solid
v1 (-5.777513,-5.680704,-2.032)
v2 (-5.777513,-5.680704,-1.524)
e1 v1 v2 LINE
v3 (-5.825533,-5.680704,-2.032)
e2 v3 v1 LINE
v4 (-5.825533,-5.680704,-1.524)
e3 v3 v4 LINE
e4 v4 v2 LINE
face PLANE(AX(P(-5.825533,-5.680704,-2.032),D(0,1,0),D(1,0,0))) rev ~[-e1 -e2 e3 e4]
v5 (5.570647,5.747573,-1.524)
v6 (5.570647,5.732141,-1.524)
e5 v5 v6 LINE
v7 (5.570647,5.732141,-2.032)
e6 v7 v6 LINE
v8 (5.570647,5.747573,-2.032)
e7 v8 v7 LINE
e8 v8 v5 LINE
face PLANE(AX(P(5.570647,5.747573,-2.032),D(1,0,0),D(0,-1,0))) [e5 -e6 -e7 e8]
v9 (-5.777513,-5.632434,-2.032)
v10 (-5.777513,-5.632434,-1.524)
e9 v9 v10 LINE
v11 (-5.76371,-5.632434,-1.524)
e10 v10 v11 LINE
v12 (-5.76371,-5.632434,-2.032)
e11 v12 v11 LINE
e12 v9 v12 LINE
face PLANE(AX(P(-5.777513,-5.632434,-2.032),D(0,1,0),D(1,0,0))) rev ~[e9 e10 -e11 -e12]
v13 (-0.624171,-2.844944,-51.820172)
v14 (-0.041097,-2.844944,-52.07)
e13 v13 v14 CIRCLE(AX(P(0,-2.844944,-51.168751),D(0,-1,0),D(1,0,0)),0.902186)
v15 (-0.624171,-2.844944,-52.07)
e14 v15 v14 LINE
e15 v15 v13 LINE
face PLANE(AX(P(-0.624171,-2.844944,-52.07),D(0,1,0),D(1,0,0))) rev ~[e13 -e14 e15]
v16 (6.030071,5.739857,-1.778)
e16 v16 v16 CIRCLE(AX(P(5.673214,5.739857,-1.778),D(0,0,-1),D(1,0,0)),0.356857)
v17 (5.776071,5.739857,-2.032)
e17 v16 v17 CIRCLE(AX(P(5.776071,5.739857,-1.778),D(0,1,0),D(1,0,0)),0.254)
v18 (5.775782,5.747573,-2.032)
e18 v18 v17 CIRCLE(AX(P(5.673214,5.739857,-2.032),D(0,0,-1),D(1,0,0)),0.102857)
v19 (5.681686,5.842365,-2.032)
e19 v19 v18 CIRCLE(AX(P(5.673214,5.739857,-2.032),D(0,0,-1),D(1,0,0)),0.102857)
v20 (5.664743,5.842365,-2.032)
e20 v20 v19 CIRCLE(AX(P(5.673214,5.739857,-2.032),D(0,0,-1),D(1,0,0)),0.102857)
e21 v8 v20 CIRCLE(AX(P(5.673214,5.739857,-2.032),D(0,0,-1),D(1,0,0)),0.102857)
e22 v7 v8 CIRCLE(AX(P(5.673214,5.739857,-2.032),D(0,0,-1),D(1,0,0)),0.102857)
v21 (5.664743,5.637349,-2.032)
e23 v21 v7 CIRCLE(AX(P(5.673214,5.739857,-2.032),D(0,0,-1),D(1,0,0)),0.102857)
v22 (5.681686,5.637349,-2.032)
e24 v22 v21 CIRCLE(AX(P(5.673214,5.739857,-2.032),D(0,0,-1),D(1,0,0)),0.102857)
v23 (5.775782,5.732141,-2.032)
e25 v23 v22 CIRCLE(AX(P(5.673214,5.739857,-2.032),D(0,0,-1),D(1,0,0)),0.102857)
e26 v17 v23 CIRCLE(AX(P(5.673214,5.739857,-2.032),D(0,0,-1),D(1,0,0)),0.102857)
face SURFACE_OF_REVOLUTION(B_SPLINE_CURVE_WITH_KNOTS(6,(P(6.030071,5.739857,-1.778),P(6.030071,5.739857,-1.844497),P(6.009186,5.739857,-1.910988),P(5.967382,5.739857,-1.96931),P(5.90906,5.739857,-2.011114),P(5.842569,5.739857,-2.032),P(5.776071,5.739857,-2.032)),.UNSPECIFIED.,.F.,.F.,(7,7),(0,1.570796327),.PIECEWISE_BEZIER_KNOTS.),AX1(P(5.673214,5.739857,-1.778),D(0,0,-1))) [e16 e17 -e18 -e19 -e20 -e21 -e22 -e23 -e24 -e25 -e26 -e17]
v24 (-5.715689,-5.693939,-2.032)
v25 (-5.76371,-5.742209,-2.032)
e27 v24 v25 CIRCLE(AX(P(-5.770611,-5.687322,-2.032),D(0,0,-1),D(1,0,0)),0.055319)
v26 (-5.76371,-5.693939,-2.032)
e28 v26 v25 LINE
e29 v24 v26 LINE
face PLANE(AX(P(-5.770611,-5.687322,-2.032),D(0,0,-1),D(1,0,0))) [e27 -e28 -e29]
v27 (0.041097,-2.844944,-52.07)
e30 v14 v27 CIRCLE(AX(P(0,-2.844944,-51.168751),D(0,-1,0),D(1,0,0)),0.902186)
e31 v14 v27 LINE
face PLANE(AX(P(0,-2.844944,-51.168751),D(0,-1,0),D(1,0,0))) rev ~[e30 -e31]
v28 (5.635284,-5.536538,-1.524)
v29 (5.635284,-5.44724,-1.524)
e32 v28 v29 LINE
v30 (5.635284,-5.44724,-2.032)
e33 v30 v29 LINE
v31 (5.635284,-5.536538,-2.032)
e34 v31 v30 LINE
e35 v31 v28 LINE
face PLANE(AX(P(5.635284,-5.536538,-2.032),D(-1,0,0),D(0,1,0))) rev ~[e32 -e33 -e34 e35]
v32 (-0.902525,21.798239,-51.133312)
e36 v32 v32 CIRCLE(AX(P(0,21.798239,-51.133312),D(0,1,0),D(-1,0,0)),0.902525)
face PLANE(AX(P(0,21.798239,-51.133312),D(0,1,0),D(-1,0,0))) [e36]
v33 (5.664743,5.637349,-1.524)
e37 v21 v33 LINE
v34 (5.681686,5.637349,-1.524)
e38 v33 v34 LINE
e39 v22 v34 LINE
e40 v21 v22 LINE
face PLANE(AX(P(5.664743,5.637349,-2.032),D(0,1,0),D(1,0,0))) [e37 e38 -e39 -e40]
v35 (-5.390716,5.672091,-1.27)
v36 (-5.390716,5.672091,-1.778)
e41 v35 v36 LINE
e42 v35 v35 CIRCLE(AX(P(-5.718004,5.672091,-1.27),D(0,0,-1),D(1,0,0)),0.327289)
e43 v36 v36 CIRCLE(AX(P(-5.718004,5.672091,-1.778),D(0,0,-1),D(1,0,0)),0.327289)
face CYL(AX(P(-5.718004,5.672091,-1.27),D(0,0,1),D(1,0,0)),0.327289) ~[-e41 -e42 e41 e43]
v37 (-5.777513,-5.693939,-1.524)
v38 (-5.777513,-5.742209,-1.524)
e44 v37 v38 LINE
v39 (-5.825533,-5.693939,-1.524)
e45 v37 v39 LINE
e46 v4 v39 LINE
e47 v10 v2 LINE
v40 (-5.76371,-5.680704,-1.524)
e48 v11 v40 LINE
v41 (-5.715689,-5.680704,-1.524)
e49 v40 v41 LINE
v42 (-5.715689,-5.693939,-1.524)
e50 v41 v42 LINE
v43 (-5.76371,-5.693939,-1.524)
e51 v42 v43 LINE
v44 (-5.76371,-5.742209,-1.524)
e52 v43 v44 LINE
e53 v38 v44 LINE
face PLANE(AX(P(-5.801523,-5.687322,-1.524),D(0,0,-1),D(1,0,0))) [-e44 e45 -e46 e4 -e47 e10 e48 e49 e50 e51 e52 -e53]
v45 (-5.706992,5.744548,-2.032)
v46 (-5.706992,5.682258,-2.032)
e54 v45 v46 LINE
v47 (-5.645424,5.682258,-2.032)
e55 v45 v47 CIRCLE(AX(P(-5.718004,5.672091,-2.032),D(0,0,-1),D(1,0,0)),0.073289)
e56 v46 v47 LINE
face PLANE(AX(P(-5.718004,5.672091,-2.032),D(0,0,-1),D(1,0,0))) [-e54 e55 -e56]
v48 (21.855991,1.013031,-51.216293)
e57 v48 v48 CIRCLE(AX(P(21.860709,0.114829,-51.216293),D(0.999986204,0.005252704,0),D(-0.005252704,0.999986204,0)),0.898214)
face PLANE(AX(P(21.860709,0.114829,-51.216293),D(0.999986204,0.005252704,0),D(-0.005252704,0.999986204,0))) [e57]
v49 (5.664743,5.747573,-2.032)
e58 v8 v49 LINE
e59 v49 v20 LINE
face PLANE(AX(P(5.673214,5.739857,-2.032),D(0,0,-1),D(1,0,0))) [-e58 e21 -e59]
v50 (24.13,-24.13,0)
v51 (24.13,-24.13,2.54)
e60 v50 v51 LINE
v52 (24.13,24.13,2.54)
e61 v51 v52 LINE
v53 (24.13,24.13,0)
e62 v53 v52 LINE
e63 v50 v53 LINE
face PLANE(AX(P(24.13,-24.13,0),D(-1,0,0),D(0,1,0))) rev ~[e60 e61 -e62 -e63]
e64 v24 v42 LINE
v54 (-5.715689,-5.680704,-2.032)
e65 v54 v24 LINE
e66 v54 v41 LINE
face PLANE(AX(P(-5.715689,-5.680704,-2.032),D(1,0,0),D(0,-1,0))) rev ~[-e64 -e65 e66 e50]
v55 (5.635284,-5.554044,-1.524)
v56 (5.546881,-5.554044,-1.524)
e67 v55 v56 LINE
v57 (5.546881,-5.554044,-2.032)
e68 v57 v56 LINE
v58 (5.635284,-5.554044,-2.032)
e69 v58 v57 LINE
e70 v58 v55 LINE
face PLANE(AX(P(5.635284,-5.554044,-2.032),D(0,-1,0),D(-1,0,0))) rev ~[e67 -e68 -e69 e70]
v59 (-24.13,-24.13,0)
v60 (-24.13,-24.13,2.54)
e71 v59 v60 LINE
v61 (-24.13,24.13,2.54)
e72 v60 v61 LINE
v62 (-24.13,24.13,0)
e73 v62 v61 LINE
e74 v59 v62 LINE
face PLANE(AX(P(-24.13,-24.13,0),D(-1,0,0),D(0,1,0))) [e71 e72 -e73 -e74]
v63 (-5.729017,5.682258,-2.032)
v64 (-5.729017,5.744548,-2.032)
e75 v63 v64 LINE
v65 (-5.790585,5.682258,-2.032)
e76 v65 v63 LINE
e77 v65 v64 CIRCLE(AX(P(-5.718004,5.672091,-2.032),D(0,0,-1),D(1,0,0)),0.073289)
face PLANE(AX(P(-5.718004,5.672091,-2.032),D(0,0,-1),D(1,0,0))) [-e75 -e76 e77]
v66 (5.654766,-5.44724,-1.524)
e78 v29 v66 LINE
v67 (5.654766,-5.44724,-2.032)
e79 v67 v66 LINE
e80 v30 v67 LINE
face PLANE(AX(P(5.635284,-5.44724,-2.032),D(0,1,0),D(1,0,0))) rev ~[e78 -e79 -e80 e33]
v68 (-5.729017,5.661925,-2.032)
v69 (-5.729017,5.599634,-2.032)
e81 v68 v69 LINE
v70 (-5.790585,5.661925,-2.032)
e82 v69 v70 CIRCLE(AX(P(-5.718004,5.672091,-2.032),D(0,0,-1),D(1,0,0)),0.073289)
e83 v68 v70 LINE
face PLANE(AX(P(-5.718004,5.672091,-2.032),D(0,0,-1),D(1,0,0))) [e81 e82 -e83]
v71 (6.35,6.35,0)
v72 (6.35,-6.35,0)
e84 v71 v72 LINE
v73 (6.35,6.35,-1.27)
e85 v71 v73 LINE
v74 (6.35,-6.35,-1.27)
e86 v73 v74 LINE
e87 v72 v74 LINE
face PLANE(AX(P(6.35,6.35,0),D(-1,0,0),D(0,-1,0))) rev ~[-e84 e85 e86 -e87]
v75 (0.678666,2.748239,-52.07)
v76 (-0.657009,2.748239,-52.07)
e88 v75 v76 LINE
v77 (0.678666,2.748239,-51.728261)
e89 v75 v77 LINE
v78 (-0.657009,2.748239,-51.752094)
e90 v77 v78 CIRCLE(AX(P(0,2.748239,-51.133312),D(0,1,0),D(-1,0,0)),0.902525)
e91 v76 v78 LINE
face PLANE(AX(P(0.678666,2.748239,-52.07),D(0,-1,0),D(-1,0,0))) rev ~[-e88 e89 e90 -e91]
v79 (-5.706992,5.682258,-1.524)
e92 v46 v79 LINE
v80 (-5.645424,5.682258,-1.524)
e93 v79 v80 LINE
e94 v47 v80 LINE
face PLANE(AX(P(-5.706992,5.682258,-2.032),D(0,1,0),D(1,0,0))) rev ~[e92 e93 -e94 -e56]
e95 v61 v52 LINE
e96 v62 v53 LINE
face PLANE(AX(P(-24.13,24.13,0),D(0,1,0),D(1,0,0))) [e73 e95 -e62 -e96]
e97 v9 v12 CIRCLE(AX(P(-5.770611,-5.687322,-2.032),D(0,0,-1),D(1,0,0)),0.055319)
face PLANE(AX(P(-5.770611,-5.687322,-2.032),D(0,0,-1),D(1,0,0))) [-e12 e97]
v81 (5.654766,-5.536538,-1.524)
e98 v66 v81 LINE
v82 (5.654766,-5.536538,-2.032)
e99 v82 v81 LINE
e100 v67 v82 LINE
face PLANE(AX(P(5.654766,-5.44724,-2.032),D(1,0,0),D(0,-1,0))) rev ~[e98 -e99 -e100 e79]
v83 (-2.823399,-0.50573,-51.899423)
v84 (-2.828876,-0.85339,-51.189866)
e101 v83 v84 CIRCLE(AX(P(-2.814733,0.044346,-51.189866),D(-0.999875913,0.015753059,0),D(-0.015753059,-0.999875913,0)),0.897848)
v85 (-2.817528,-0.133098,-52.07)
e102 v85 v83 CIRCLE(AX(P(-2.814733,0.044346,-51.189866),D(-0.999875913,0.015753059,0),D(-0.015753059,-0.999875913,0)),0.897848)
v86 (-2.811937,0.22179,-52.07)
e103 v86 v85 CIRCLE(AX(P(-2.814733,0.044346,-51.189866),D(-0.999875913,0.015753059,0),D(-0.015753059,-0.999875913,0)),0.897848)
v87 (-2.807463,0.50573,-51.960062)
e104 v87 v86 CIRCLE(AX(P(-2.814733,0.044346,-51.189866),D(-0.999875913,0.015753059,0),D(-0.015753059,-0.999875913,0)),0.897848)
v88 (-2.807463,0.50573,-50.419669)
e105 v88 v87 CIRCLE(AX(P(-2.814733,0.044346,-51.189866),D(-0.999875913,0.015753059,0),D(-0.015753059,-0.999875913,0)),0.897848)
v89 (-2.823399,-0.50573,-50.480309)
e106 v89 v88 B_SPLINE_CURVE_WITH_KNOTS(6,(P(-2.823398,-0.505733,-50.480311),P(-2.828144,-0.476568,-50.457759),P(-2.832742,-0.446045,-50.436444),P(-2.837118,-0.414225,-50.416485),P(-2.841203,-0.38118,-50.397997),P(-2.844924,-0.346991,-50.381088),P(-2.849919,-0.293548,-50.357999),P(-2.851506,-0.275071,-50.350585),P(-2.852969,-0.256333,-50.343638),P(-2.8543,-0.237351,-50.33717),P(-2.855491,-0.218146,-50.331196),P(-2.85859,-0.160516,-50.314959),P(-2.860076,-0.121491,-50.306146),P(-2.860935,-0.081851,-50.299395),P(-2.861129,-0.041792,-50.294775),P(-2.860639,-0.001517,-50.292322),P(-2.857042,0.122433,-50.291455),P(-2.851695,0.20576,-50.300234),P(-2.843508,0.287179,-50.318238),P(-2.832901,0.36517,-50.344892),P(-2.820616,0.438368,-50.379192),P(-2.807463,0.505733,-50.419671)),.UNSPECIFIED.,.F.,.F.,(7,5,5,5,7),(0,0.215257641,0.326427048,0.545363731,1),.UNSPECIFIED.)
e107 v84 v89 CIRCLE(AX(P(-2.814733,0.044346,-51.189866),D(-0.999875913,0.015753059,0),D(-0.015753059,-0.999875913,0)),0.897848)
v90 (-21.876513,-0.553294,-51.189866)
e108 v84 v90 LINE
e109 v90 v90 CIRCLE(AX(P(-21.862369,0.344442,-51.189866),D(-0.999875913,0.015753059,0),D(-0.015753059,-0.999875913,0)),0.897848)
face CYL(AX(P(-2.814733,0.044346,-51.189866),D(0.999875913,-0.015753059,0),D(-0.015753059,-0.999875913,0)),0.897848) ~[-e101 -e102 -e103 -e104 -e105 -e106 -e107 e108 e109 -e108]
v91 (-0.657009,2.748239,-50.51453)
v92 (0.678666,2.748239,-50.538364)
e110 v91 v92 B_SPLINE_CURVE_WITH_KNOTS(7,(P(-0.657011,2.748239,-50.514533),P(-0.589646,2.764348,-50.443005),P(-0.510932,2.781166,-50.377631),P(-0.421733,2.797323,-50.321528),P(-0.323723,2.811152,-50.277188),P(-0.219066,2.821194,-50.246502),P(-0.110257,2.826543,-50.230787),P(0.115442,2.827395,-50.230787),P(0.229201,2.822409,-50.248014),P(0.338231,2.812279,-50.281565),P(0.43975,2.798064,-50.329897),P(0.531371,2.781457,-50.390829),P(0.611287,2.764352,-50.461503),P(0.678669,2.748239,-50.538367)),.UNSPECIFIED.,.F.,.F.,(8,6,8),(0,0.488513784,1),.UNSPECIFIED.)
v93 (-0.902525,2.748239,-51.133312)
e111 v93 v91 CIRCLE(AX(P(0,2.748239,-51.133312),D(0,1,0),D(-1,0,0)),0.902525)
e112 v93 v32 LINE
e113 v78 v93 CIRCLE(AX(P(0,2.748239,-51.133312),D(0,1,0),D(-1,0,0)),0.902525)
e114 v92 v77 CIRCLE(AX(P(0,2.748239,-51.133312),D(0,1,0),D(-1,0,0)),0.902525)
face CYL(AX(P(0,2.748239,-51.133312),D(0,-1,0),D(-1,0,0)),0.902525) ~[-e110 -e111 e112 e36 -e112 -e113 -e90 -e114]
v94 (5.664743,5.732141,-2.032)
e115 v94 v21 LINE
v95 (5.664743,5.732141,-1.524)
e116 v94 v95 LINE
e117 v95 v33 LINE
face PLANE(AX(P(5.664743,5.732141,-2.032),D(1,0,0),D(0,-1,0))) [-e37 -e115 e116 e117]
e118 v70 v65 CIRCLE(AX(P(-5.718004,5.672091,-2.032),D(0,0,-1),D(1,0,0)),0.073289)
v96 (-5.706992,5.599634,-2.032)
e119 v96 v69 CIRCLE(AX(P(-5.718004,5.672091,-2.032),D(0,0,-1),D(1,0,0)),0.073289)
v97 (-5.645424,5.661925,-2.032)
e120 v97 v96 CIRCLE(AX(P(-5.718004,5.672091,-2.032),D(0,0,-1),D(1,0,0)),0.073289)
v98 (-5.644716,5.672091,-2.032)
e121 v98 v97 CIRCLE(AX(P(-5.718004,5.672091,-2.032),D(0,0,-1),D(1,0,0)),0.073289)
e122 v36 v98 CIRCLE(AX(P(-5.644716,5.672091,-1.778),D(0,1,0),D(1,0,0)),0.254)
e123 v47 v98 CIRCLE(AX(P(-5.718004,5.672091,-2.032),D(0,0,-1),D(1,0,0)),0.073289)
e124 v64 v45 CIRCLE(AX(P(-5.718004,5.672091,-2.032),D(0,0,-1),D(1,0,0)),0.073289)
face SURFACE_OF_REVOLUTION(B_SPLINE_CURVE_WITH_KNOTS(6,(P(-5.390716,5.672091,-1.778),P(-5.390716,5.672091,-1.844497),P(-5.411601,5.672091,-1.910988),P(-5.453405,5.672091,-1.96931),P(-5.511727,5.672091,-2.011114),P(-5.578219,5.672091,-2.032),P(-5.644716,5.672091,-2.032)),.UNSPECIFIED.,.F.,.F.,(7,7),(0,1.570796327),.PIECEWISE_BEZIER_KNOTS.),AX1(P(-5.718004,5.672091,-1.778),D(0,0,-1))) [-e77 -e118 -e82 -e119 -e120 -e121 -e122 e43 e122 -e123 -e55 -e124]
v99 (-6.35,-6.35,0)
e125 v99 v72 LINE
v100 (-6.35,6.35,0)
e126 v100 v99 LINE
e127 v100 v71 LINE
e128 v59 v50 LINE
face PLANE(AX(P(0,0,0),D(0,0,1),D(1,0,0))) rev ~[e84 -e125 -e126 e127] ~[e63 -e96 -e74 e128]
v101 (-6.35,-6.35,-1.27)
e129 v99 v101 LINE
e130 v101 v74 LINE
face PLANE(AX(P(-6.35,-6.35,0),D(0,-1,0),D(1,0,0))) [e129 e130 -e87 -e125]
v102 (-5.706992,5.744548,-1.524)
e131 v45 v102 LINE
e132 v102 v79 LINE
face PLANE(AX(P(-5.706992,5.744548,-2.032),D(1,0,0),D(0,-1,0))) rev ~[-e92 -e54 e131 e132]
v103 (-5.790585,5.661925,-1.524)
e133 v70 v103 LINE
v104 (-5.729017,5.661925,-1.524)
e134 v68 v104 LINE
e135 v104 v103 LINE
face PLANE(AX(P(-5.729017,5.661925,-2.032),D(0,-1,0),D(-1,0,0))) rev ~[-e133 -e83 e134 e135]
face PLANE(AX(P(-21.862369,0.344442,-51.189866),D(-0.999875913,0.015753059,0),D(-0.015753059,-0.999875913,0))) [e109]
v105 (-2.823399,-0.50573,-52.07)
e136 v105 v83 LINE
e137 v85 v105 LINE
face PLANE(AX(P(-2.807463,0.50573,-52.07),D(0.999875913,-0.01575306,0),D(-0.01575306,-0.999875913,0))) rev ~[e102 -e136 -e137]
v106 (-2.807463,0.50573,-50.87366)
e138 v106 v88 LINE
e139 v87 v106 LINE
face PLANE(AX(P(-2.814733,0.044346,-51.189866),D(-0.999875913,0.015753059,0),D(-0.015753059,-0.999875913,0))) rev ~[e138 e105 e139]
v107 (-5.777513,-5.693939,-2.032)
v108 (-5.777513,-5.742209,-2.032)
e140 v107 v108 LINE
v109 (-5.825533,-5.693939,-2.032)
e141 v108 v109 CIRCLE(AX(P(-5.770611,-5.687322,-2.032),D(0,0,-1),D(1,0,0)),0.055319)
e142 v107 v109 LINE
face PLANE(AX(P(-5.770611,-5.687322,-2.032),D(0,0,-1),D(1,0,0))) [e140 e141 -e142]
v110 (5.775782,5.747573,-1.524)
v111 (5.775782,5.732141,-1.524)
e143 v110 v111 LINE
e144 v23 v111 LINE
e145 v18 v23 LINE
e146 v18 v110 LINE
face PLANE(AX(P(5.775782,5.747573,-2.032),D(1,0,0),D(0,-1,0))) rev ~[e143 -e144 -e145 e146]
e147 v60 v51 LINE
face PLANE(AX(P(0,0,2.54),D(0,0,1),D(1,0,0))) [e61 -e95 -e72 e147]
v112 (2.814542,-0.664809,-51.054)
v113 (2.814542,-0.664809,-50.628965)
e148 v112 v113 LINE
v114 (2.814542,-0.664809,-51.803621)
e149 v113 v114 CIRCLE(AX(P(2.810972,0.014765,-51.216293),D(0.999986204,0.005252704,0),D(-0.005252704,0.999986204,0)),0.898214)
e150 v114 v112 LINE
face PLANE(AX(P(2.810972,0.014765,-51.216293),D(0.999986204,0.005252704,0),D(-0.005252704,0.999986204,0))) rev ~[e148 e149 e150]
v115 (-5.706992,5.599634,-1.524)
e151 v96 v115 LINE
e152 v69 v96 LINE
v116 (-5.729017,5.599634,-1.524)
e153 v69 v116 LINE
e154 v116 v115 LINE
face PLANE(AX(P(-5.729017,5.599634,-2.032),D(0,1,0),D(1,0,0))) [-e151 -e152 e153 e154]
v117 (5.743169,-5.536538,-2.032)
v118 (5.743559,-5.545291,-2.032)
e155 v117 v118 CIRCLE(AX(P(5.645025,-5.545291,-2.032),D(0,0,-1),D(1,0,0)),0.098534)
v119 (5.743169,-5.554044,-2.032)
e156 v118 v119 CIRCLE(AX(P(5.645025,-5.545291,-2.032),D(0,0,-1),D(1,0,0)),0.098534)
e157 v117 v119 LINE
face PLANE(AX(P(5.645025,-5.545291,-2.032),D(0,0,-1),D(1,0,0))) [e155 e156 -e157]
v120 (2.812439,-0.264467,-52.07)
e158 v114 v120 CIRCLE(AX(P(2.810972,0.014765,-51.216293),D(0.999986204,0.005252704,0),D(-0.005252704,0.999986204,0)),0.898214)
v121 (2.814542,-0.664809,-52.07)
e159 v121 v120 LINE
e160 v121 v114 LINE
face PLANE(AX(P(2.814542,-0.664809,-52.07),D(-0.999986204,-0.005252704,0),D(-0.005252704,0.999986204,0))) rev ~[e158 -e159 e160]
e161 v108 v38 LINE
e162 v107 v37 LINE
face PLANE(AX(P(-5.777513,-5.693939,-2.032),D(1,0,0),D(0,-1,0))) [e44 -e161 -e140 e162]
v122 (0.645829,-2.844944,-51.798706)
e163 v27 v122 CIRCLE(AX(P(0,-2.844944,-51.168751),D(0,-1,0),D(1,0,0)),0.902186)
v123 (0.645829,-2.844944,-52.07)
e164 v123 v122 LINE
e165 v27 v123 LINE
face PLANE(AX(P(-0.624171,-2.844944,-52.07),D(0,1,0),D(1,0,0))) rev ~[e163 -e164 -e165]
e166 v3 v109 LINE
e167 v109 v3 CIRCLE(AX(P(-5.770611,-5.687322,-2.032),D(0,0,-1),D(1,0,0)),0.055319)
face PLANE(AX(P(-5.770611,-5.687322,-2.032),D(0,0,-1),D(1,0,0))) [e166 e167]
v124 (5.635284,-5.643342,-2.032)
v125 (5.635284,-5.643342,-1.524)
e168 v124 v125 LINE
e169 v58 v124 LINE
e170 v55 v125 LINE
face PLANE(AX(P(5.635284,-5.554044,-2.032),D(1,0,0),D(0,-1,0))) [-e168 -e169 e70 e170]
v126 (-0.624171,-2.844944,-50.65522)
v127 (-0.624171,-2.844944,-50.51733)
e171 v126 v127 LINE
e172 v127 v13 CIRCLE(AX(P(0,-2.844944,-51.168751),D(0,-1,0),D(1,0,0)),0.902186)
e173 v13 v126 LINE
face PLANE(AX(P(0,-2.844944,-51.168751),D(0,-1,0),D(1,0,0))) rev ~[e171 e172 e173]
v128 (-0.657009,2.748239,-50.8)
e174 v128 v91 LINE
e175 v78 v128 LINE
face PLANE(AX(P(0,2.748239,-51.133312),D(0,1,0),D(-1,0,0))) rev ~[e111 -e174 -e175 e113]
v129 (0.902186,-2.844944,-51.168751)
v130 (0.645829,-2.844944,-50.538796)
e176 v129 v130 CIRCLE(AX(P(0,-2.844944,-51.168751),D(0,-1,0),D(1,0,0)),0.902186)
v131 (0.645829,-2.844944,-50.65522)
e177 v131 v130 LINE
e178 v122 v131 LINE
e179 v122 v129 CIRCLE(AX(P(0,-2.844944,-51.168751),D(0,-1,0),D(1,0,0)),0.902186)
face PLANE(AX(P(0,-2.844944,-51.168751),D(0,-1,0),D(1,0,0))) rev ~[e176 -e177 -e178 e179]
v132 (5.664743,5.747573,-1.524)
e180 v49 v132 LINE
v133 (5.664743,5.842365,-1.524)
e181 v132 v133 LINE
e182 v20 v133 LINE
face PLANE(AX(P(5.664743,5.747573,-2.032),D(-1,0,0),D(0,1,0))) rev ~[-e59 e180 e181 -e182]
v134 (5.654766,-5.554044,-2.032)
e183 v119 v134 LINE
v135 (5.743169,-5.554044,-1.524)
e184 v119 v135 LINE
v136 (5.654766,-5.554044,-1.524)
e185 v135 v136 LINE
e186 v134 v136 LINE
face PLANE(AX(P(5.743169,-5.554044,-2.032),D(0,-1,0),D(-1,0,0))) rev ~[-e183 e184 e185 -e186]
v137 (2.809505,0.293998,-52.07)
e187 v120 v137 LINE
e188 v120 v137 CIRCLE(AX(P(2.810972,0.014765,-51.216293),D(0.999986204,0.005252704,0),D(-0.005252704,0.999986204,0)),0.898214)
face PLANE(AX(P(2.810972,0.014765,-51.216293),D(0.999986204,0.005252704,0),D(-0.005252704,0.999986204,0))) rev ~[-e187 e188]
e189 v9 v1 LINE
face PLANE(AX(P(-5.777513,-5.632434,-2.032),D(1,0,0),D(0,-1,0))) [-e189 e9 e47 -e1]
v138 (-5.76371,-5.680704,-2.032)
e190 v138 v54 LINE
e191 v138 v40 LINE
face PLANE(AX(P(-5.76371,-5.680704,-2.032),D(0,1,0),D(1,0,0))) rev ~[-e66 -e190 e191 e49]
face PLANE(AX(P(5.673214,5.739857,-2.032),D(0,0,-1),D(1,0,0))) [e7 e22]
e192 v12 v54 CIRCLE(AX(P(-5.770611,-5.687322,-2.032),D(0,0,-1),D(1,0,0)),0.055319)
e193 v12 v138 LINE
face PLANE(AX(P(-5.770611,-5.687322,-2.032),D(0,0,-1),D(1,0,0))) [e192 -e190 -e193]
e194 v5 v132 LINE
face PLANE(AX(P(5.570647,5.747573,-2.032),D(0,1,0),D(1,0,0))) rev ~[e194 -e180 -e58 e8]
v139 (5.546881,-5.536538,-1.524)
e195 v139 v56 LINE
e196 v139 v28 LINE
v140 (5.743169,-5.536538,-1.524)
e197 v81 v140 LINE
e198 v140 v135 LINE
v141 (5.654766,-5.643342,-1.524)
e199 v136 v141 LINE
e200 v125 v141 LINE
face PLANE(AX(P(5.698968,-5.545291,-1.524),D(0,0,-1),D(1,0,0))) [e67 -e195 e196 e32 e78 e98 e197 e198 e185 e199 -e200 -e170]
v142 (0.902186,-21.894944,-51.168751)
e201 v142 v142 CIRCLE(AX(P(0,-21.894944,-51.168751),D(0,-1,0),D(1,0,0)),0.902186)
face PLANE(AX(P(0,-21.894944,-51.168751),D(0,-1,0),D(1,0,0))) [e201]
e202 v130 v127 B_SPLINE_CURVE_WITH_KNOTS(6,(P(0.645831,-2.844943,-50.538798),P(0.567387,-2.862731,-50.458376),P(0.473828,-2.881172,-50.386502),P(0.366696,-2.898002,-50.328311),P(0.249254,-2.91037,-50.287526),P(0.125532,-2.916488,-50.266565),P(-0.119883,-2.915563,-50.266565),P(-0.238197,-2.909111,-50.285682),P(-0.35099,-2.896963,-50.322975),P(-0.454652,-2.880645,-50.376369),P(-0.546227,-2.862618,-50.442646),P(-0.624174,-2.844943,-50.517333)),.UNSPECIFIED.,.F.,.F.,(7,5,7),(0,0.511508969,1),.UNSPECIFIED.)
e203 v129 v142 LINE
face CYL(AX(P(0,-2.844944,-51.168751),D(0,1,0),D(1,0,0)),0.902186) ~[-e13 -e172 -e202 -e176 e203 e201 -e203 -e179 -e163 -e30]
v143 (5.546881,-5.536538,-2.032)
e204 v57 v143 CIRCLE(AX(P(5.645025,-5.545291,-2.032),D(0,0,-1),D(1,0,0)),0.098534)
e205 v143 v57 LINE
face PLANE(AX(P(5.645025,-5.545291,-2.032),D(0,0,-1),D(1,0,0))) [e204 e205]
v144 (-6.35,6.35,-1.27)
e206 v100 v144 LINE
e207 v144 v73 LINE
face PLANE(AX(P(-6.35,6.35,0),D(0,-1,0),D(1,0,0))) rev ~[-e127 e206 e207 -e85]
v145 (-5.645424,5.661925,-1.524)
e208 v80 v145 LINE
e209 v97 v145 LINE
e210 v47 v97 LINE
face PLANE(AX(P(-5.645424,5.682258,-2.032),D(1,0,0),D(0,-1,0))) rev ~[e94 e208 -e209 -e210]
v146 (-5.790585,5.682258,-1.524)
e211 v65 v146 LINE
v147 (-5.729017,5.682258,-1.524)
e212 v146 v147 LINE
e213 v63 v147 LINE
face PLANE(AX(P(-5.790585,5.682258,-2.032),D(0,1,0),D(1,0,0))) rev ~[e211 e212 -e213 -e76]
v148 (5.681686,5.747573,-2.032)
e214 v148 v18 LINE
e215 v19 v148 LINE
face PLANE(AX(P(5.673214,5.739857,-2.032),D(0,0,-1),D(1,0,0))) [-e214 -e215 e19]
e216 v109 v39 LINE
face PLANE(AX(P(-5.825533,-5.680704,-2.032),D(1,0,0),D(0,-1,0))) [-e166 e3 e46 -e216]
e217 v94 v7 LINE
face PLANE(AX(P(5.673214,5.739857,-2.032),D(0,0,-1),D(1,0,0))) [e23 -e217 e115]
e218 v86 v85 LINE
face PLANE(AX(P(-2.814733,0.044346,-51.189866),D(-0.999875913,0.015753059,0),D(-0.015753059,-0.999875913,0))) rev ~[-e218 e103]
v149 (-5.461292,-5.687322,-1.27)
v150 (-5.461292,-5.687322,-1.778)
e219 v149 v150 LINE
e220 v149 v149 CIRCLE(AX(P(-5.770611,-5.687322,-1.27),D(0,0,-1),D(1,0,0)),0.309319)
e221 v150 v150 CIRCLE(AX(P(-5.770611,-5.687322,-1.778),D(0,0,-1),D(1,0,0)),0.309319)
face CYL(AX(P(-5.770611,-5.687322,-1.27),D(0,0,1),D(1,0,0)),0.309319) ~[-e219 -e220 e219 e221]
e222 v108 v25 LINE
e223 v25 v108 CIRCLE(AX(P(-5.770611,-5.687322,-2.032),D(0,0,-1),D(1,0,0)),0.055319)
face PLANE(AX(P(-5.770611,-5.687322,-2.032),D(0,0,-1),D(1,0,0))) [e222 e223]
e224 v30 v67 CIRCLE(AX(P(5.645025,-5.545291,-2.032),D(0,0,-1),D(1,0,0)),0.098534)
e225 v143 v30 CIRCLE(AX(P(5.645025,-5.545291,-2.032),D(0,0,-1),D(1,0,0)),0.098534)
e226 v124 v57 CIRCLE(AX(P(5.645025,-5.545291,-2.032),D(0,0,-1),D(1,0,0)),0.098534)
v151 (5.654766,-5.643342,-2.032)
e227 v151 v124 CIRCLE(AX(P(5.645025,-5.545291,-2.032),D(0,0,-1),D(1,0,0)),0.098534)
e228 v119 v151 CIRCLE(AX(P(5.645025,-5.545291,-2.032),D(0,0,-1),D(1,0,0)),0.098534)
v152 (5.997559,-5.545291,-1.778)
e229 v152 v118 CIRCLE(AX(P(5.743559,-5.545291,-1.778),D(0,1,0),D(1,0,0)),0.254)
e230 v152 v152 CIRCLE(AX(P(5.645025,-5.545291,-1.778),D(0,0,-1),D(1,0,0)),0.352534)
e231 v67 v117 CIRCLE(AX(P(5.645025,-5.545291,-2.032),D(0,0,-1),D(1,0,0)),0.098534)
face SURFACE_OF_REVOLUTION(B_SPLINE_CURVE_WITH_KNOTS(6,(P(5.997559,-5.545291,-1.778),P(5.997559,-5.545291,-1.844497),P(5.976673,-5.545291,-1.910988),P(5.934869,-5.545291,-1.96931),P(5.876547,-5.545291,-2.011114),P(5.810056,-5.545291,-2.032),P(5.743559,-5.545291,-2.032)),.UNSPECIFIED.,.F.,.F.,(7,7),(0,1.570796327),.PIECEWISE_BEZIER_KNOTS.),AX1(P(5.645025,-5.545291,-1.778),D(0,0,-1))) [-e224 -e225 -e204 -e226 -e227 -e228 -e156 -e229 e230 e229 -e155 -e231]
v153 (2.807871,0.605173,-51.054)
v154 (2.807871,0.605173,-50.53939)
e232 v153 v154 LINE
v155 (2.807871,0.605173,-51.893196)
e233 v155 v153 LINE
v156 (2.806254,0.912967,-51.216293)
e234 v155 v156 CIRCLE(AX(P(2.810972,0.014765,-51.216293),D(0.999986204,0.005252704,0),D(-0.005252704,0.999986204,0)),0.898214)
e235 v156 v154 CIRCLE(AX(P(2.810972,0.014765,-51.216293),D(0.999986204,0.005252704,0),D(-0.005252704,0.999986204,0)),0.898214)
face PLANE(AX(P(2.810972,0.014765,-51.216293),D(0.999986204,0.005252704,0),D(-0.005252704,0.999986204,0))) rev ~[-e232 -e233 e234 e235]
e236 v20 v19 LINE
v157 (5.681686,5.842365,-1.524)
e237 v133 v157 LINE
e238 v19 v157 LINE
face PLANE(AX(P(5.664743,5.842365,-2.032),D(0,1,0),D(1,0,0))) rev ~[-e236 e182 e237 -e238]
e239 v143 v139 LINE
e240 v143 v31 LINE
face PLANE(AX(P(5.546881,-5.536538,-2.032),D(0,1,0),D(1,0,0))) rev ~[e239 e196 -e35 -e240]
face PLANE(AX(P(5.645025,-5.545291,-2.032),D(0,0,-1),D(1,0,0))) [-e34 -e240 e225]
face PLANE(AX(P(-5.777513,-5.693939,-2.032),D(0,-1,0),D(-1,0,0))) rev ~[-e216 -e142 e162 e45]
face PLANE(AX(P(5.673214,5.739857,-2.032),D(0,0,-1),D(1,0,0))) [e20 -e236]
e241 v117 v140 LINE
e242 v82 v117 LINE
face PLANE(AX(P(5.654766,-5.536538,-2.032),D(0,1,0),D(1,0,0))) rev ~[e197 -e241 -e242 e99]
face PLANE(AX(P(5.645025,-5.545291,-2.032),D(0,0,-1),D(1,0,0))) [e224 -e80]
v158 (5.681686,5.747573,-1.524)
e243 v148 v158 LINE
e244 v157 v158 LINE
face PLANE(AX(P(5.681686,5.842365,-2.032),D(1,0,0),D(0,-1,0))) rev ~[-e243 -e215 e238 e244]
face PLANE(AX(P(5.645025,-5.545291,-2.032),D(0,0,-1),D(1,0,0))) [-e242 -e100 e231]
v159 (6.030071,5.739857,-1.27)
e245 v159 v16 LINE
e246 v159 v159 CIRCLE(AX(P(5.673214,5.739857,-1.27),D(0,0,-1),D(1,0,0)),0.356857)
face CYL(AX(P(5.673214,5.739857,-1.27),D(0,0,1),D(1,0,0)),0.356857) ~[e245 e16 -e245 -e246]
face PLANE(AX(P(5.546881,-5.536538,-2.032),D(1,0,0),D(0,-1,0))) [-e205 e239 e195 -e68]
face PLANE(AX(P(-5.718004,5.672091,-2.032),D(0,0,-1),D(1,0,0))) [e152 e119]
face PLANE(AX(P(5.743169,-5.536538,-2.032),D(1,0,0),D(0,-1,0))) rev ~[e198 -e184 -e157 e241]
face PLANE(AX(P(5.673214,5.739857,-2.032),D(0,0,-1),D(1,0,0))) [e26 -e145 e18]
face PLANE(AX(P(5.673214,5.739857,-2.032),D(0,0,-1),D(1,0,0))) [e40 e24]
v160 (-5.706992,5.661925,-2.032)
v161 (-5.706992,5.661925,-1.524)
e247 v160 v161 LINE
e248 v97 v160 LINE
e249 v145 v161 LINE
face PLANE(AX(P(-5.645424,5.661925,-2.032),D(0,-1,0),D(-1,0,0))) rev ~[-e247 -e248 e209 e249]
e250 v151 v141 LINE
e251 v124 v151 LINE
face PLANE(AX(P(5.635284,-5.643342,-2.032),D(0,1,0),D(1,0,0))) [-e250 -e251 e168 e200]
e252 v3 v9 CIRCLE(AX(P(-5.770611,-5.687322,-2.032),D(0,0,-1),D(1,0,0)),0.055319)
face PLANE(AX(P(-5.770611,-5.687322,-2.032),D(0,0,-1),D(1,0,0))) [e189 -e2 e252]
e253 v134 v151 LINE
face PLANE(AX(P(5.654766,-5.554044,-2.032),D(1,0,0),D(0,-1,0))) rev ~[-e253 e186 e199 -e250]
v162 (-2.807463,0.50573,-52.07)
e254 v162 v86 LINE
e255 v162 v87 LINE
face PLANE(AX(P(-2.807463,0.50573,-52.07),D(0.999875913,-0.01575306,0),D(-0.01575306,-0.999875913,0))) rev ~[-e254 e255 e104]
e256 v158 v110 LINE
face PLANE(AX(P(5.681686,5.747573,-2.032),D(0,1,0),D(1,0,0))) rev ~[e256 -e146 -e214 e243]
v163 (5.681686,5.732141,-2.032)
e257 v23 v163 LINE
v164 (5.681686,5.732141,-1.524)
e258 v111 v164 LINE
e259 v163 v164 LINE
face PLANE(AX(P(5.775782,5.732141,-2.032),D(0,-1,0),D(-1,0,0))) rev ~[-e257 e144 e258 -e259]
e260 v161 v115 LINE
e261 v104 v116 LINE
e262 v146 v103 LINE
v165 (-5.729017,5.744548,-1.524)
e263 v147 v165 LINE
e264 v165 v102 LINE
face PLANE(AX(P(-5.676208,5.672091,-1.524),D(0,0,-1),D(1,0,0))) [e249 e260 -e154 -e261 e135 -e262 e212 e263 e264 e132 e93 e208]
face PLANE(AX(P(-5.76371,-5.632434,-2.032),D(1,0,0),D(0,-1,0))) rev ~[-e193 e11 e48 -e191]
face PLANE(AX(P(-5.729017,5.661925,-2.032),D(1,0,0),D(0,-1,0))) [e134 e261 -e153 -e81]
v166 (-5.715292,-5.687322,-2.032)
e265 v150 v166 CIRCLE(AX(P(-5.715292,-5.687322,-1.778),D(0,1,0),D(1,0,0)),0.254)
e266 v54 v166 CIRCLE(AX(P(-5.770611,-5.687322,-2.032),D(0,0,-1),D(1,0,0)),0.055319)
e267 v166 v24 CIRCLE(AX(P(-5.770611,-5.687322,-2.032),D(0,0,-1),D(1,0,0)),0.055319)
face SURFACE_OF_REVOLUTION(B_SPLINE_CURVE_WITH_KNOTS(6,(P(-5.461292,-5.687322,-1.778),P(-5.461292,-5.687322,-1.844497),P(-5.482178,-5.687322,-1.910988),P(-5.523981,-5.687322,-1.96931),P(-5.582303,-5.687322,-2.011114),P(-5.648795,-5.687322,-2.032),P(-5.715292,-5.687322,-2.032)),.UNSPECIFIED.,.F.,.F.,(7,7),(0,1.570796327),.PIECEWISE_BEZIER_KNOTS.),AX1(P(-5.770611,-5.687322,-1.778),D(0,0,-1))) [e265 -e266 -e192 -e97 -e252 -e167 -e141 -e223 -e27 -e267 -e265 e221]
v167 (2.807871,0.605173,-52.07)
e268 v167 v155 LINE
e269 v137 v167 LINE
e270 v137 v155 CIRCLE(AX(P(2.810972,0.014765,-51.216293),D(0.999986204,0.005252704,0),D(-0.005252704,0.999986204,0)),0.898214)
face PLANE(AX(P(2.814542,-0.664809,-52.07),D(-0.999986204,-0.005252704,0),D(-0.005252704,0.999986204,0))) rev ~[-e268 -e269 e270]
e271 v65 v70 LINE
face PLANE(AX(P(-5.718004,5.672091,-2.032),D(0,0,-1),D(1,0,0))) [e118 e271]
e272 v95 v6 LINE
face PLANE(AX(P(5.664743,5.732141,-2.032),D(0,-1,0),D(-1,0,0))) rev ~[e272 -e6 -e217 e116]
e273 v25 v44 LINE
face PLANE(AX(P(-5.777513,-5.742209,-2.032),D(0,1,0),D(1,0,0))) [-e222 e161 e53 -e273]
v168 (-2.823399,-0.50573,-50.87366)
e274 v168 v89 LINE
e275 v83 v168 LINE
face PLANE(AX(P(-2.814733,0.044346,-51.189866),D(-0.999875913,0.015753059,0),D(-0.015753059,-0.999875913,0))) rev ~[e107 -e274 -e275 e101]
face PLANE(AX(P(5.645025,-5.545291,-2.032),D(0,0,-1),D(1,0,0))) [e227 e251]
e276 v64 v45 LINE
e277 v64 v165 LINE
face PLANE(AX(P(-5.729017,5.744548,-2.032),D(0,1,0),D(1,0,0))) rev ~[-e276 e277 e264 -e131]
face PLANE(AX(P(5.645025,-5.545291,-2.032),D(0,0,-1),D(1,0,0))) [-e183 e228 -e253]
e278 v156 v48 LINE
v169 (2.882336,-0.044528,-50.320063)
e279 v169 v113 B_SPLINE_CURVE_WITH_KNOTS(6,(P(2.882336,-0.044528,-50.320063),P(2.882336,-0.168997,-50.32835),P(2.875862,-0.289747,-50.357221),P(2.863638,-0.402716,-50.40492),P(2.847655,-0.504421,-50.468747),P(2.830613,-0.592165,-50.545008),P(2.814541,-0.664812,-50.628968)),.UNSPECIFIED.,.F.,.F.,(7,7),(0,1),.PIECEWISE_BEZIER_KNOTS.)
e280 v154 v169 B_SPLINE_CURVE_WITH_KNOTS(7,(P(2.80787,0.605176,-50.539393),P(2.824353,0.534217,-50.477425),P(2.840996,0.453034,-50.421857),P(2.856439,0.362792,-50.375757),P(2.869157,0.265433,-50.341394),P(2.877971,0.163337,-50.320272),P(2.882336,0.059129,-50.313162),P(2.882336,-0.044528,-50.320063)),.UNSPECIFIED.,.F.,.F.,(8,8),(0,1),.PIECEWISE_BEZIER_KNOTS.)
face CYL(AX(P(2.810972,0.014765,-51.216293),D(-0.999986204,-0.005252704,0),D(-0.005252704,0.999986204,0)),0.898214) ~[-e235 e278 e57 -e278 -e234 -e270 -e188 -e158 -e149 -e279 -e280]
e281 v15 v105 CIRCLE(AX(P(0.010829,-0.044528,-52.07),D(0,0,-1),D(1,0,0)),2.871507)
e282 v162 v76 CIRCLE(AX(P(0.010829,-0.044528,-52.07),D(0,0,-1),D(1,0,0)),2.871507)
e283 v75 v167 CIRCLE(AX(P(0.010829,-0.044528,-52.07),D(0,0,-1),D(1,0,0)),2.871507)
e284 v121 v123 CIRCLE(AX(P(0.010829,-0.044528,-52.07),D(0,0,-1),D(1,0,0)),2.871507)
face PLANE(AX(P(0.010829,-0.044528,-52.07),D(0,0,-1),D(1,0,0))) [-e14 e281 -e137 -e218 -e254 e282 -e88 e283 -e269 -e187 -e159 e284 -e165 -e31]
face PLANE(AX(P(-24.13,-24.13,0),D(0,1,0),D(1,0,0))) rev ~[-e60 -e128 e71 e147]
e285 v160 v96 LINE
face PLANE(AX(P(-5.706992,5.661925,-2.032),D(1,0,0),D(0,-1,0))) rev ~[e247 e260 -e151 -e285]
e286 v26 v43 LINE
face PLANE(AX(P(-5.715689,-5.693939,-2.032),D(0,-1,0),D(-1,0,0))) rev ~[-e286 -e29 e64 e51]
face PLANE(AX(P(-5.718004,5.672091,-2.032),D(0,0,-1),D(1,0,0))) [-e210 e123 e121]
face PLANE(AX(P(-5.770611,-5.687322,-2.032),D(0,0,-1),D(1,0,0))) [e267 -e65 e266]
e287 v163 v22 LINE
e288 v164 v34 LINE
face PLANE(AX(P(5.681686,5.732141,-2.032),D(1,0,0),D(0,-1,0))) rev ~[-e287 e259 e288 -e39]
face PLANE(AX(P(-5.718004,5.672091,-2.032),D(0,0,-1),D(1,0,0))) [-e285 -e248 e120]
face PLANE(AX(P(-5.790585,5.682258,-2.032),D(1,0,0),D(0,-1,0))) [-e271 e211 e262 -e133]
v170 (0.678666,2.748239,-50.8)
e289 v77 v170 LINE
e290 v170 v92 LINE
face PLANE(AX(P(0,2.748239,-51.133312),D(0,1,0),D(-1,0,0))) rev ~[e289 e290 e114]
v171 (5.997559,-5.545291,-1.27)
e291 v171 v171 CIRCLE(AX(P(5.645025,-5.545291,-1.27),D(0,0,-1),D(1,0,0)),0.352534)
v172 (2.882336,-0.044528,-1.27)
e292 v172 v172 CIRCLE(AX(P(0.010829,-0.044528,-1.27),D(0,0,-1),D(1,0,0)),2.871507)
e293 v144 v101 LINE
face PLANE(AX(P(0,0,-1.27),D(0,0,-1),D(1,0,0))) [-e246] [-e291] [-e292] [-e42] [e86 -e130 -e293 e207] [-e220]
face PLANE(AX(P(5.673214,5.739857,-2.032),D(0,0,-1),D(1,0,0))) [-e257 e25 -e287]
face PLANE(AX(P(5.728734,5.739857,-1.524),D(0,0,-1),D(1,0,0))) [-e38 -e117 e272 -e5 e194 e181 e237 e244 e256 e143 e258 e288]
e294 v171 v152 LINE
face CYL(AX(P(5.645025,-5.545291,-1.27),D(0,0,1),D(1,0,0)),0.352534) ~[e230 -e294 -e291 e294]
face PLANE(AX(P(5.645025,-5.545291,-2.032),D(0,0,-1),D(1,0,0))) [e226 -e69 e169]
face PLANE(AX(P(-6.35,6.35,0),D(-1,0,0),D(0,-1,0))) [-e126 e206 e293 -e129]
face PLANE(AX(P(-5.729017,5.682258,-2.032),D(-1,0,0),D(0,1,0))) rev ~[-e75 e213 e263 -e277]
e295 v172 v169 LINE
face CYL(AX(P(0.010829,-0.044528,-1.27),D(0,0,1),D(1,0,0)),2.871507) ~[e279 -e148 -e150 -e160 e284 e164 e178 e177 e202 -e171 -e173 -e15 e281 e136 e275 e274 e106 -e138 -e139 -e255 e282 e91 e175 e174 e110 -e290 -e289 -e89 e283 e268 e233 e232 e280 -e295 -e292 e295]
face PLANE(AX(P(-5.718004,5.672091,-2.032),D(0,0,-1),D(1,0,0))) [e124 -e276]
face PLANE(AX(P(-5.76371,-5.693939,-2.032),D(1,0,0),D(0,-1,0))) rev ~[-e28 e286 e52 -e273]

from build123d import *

# Parameters (mm, degrees)
F0_W      = 48.26
F0_H      = 48.26
F1_DEPTH  = 2.54
F2_W      = 12.7
F2_H      = 12.7
F3_DEPTH  = 1.27
F4_R      = 2.8715074031
F5_DEPTH  = 50.8
F6_R      = 0.3093193385
F6_R_2    = 0.3272888375
F6_R_3    = 0.3568571673
F6_R_4    = 0.3525339216
F7_DEPTH  = 0.762
F8_R      = 0.254
F12_W     = 0.0615678008
F12_H     = 0.0203329791
F12_W_2   = 0.0220249466
F12_H_2   = 0.0622902502
F11_W     = 0.0480206565
F11_H     = 0.0132349783
F11_W_2   = 0.0138029049
F11_H_2   = 0.0482696602
F10_W     = 0.0884033393
F10_H     = 0.017505979
F10_W_2   = 0.0194820769
F10_H_2   = 0.0892982516
F9_W      = 0.0940955169
F9_H      = 0.0154326007
F9_W_2    = 0.0169436104
F9_H_2    = 0.0947913842
F13_DEPTH = 0.508
F15_DEPTH = 1.41478
F16_R     = 0.9021855569
F17_DEPTH = 19.05
F19_DEPTH = 1.016
F20_R     = 0.8982139902
F21_DEPTH = 19.05
F23_DEPTH = 1.27
F24_R     = 0.9025250594
F25_DEPTH = 19.05
F27_DEPTH = 1.19634
F28_R     = 0.8978475469
F29_DEPTH = 19.05


with BuildPart() as f1:
    # F0 (on Top) → F1 (new body)
    with BuildSketch(Plane.XY):
        Rectangle(F0_W, F0_H)
    extrude(amount=F1_DEPTH)

    # F2 (on face) → F3 (join)
    with BuildSketch(Plane(origin=(0, 0, 0), x_dir=(1, 0, 0), z_dir=(0, 0, -1))):
        Rectangle(F2_W, F2_H)
    extrude(amount=F3_DEPTH)

    # F4 (on face) → F5 (join)
    with BuildSketch(Plane(origin=(0, 0, -1.27), x_dir=(1, 0, 0), z_dir=(0, 0, -1))):
        with Locations((0.0108288368, 0.0445277688)):
            Circle(F4_R)
    extrude(amount=F5_DEPTH)

    # F6 (on face) → F7 (join)
    with BuildSketch(Plane(origin=(0, 0, -1.27), x_dir=(1, 0, 0), z_dir=(0, 0, -1))):
        with Locations((-5.7706111111, 5.6873215362)):
            Circle(F6_R)
        with Locations((-5.7180044241, -5.6720911525)):
            Circle(F6_R_2)
        with Locations((5.6732143275, -5.739856977)):
            Circle(F6_R_3)
        with Locations((5.6450250559, 5.5452911183)):
            Circle(F6_R_4)
    extrude(amount=F7_DEPTH)

    # F8
    f8_edges = [f1.edges().sort_by_distance(p)[0] for p in [
        (-6.07993, -5.687322, -2.032),
        (5.316357, 5.739857, -2.032),
        (-6.045293, 5.672091, -2.032),
        (5.292491, -5.545291, -2.032),
    ]]
    fillet(f8_edges, radius=F8_R)

    # F12 (on face) + F11 (on face) + F10 (on face) + F9 (on face) → F13 (cut)
    with BuildSketch(Plane(origin=(0, 0, -2.032), x_dir=(1, 0, 0), z_dir=(0, 0, -1))):
        with Locations((-5.6762080504, -5.6720911525)):
            Rectangle(F12_W, F12_H)
        with Locations((-5.7180044241, -5.7134027672)):
            Rectangle(F12_W_2, F12_H_2)
        with Locations((-5.7180044241, -5.6720911525)):
            Rectangle(F12_W_2, F12_H)
        with Locations((-5.7598007978, -5.6720911525)):
            Rectangle(F12_W, F12_H)
        with Locations((-5.7180044241, -5.6307795379)):
            Rectangle(F12_W_2, F12_H_2)
    with BuildSketch(Plane(origin=(0, 0, -2.032), x_dir=(1, 0, 0), z_dir=(0, 0, -1))):
        with Locations((-5.8015228918, 5.6873215362)):
            Rectangle(F11_W, F11_H)
        with Locations((-5.7396993304, 5.6873215362)):
            Rectangle(F11_W, F11_H)
        with Locations((-5.7706111111, 5.6873215362)):
            Rectangle(F11_W_2, F11_H)
        with Locations((-5.7706111111, 5.656569217)):
            Rectangle(F11_W_2, F11_H_2)
        with Locations((-5.7706111111, 5.7180738555)):
            Rectangle(F11_W_2, F11_H_2)
    with BuildSketch(Plane(origin=(0, 0, -2.032), x_dir=(1, 0, 0), z_dir=(0, 0, -1))):
        with Locations((5.6989677639, 5.5452911183)):
            Rectangle(F10_W, F10_H)
        with Locations((5.6450250559, 5.491889003)):
            Rectangle(F10_W_2, F10_H_2)
        with Locations((5.6450250559, 5.5452911183)):
            Rectangle(F10_W_2, F10_H)
        with Locations((5.5910823478, 5.5452911183)):
            Rectangle(F10_W, F10_H)
        with Locations((5.6450250559, 5.5986932336)):
            Rectangle(F10_W_2, F10_H_2)
    with BuildSketch(Plane(origin=(0, 0, -2.032), x_dir=(1, 0, 0), z_dir=(0, 0, -1))):
        with Locations((5.7287338912, -5.739856977)):
            Rectangle(F9_W, F9_H)
        with Locations((5.6732143275, -5.7949689694)):
            Rectangle(F9_W_2, F9_H_2)
        with Locations((5.6732143275, -5.739856977)):
            Rectangle(F9_W_2, F9_H)
        with Locations((5.6176947639, -5.739856977)):
            Rectangle(F9_W, F9_H)
        with Locations((5.6732143275, -5.6847449846)):
            Rectangle(F9_W_2, F9_H_2)
    extrude(amount=-F13_DEPTH, mode=Mode.SUBTRACT)

    # F14 (on face) → F15 (cut)
    with BuildSketch(Plane(origin=(0, 0, -52.07), x_dir=(1, 0, 0), z_dir=(0, 0, -1))):
        Polygon((0, 3.2037144993), (-0.6241711632, 2.8449437675), (0.6458288368, 2.8449437675), align=None)
    extrude(amount=-F15_DEPTH, mode=Mode.SUBTRACT)

    # F16 (on face) → F17 (join)
    with BuildSketch(Plane.XZ.offset(2.8449437675)):
        with Locations((0, -51.1687509716)):
            Circle(F16_R)
    extrude(amount=F17_DEPTH)

    # F18 (on face) → F19 (cut)
    with BuildSketch(Plane(origin=(0, 0, -52.07), x_dir=(1, 0, 0), z_dir=(0, 0, -1))):
        Polygon((3.0578877777, 0), (2.8145416692, 0.6648092527), (2.8078707354, -0.6051732269), align=None)
    extrude(amount=-F19_DEPTH, mode=Mode.SUBTRACT)

    # F20 (on face) → F21 (join)
    with BuildSketch(Plane(origin=(2.8109720156, 0.0147654072, 0), x_dir=(-0.0052527038, 0.9999862045, 0), z_dir=(0.9999862045, 0.0052527038, 0))):
        with Locations((0, -51.2162931263)):
            Circle(F20_R)
    extrude(amount=F21_DEPTH)

    # F22 (on face) → F23 (cut)
    with BuildSketch(Plane(origin=(0, 0, -52.07), x_dir=(1, 0, 0), z_dir=(0, 0, -1))):
        Polygon((0.6786663537, -2.7482392851), (-0.6570086801, -2.7482392851), (0, -2.9700854793), align=None)
    extrude(amount=-F23_DEPTH, mode=Mode.SUBTRACT)

    # F24 (on face) → F25 (join)
    with BuildSketch(Plane(origin=(0, 2.7482392851, 0), x_dir=(-1, 0, 0), z_dir=(0, 1, 0))):
        with Locations((0, -51.1333122849)):
            Circle(F24_R)
    extrude(amount=F25_DEPTH)

    # F26 (on face) → F27 (cut)
    with BuildSketch(Plane(origin=(0, 0, -52.07), x_dir=(1, 0, 0), z_dir=(0, 0, -1))):
        Polygon((-2.8074634724, -0.5057296489), (-2.8154312504, 0), (-2.8233990284, 0.5057296489), (-2.9956893995, 0), align=None)
    extrude(amount=-F27_DEPTH, mode=Mode.SUBTRACT)

    # F28 (on face) → F29 (join)
    with BuildSketch(Plane(origin=(-2.8147325761, 0.0443461527, 0), x_dir=(-0.0157530595, -0.9998759129, 0), z_dir=(-0.9998759129, 0.0157530595, 0))):
        with Locations((0, -51.189865917)):
            Circle(F28_R)
    extrude(amount=F29_DEPTH)


solid = f1.part
